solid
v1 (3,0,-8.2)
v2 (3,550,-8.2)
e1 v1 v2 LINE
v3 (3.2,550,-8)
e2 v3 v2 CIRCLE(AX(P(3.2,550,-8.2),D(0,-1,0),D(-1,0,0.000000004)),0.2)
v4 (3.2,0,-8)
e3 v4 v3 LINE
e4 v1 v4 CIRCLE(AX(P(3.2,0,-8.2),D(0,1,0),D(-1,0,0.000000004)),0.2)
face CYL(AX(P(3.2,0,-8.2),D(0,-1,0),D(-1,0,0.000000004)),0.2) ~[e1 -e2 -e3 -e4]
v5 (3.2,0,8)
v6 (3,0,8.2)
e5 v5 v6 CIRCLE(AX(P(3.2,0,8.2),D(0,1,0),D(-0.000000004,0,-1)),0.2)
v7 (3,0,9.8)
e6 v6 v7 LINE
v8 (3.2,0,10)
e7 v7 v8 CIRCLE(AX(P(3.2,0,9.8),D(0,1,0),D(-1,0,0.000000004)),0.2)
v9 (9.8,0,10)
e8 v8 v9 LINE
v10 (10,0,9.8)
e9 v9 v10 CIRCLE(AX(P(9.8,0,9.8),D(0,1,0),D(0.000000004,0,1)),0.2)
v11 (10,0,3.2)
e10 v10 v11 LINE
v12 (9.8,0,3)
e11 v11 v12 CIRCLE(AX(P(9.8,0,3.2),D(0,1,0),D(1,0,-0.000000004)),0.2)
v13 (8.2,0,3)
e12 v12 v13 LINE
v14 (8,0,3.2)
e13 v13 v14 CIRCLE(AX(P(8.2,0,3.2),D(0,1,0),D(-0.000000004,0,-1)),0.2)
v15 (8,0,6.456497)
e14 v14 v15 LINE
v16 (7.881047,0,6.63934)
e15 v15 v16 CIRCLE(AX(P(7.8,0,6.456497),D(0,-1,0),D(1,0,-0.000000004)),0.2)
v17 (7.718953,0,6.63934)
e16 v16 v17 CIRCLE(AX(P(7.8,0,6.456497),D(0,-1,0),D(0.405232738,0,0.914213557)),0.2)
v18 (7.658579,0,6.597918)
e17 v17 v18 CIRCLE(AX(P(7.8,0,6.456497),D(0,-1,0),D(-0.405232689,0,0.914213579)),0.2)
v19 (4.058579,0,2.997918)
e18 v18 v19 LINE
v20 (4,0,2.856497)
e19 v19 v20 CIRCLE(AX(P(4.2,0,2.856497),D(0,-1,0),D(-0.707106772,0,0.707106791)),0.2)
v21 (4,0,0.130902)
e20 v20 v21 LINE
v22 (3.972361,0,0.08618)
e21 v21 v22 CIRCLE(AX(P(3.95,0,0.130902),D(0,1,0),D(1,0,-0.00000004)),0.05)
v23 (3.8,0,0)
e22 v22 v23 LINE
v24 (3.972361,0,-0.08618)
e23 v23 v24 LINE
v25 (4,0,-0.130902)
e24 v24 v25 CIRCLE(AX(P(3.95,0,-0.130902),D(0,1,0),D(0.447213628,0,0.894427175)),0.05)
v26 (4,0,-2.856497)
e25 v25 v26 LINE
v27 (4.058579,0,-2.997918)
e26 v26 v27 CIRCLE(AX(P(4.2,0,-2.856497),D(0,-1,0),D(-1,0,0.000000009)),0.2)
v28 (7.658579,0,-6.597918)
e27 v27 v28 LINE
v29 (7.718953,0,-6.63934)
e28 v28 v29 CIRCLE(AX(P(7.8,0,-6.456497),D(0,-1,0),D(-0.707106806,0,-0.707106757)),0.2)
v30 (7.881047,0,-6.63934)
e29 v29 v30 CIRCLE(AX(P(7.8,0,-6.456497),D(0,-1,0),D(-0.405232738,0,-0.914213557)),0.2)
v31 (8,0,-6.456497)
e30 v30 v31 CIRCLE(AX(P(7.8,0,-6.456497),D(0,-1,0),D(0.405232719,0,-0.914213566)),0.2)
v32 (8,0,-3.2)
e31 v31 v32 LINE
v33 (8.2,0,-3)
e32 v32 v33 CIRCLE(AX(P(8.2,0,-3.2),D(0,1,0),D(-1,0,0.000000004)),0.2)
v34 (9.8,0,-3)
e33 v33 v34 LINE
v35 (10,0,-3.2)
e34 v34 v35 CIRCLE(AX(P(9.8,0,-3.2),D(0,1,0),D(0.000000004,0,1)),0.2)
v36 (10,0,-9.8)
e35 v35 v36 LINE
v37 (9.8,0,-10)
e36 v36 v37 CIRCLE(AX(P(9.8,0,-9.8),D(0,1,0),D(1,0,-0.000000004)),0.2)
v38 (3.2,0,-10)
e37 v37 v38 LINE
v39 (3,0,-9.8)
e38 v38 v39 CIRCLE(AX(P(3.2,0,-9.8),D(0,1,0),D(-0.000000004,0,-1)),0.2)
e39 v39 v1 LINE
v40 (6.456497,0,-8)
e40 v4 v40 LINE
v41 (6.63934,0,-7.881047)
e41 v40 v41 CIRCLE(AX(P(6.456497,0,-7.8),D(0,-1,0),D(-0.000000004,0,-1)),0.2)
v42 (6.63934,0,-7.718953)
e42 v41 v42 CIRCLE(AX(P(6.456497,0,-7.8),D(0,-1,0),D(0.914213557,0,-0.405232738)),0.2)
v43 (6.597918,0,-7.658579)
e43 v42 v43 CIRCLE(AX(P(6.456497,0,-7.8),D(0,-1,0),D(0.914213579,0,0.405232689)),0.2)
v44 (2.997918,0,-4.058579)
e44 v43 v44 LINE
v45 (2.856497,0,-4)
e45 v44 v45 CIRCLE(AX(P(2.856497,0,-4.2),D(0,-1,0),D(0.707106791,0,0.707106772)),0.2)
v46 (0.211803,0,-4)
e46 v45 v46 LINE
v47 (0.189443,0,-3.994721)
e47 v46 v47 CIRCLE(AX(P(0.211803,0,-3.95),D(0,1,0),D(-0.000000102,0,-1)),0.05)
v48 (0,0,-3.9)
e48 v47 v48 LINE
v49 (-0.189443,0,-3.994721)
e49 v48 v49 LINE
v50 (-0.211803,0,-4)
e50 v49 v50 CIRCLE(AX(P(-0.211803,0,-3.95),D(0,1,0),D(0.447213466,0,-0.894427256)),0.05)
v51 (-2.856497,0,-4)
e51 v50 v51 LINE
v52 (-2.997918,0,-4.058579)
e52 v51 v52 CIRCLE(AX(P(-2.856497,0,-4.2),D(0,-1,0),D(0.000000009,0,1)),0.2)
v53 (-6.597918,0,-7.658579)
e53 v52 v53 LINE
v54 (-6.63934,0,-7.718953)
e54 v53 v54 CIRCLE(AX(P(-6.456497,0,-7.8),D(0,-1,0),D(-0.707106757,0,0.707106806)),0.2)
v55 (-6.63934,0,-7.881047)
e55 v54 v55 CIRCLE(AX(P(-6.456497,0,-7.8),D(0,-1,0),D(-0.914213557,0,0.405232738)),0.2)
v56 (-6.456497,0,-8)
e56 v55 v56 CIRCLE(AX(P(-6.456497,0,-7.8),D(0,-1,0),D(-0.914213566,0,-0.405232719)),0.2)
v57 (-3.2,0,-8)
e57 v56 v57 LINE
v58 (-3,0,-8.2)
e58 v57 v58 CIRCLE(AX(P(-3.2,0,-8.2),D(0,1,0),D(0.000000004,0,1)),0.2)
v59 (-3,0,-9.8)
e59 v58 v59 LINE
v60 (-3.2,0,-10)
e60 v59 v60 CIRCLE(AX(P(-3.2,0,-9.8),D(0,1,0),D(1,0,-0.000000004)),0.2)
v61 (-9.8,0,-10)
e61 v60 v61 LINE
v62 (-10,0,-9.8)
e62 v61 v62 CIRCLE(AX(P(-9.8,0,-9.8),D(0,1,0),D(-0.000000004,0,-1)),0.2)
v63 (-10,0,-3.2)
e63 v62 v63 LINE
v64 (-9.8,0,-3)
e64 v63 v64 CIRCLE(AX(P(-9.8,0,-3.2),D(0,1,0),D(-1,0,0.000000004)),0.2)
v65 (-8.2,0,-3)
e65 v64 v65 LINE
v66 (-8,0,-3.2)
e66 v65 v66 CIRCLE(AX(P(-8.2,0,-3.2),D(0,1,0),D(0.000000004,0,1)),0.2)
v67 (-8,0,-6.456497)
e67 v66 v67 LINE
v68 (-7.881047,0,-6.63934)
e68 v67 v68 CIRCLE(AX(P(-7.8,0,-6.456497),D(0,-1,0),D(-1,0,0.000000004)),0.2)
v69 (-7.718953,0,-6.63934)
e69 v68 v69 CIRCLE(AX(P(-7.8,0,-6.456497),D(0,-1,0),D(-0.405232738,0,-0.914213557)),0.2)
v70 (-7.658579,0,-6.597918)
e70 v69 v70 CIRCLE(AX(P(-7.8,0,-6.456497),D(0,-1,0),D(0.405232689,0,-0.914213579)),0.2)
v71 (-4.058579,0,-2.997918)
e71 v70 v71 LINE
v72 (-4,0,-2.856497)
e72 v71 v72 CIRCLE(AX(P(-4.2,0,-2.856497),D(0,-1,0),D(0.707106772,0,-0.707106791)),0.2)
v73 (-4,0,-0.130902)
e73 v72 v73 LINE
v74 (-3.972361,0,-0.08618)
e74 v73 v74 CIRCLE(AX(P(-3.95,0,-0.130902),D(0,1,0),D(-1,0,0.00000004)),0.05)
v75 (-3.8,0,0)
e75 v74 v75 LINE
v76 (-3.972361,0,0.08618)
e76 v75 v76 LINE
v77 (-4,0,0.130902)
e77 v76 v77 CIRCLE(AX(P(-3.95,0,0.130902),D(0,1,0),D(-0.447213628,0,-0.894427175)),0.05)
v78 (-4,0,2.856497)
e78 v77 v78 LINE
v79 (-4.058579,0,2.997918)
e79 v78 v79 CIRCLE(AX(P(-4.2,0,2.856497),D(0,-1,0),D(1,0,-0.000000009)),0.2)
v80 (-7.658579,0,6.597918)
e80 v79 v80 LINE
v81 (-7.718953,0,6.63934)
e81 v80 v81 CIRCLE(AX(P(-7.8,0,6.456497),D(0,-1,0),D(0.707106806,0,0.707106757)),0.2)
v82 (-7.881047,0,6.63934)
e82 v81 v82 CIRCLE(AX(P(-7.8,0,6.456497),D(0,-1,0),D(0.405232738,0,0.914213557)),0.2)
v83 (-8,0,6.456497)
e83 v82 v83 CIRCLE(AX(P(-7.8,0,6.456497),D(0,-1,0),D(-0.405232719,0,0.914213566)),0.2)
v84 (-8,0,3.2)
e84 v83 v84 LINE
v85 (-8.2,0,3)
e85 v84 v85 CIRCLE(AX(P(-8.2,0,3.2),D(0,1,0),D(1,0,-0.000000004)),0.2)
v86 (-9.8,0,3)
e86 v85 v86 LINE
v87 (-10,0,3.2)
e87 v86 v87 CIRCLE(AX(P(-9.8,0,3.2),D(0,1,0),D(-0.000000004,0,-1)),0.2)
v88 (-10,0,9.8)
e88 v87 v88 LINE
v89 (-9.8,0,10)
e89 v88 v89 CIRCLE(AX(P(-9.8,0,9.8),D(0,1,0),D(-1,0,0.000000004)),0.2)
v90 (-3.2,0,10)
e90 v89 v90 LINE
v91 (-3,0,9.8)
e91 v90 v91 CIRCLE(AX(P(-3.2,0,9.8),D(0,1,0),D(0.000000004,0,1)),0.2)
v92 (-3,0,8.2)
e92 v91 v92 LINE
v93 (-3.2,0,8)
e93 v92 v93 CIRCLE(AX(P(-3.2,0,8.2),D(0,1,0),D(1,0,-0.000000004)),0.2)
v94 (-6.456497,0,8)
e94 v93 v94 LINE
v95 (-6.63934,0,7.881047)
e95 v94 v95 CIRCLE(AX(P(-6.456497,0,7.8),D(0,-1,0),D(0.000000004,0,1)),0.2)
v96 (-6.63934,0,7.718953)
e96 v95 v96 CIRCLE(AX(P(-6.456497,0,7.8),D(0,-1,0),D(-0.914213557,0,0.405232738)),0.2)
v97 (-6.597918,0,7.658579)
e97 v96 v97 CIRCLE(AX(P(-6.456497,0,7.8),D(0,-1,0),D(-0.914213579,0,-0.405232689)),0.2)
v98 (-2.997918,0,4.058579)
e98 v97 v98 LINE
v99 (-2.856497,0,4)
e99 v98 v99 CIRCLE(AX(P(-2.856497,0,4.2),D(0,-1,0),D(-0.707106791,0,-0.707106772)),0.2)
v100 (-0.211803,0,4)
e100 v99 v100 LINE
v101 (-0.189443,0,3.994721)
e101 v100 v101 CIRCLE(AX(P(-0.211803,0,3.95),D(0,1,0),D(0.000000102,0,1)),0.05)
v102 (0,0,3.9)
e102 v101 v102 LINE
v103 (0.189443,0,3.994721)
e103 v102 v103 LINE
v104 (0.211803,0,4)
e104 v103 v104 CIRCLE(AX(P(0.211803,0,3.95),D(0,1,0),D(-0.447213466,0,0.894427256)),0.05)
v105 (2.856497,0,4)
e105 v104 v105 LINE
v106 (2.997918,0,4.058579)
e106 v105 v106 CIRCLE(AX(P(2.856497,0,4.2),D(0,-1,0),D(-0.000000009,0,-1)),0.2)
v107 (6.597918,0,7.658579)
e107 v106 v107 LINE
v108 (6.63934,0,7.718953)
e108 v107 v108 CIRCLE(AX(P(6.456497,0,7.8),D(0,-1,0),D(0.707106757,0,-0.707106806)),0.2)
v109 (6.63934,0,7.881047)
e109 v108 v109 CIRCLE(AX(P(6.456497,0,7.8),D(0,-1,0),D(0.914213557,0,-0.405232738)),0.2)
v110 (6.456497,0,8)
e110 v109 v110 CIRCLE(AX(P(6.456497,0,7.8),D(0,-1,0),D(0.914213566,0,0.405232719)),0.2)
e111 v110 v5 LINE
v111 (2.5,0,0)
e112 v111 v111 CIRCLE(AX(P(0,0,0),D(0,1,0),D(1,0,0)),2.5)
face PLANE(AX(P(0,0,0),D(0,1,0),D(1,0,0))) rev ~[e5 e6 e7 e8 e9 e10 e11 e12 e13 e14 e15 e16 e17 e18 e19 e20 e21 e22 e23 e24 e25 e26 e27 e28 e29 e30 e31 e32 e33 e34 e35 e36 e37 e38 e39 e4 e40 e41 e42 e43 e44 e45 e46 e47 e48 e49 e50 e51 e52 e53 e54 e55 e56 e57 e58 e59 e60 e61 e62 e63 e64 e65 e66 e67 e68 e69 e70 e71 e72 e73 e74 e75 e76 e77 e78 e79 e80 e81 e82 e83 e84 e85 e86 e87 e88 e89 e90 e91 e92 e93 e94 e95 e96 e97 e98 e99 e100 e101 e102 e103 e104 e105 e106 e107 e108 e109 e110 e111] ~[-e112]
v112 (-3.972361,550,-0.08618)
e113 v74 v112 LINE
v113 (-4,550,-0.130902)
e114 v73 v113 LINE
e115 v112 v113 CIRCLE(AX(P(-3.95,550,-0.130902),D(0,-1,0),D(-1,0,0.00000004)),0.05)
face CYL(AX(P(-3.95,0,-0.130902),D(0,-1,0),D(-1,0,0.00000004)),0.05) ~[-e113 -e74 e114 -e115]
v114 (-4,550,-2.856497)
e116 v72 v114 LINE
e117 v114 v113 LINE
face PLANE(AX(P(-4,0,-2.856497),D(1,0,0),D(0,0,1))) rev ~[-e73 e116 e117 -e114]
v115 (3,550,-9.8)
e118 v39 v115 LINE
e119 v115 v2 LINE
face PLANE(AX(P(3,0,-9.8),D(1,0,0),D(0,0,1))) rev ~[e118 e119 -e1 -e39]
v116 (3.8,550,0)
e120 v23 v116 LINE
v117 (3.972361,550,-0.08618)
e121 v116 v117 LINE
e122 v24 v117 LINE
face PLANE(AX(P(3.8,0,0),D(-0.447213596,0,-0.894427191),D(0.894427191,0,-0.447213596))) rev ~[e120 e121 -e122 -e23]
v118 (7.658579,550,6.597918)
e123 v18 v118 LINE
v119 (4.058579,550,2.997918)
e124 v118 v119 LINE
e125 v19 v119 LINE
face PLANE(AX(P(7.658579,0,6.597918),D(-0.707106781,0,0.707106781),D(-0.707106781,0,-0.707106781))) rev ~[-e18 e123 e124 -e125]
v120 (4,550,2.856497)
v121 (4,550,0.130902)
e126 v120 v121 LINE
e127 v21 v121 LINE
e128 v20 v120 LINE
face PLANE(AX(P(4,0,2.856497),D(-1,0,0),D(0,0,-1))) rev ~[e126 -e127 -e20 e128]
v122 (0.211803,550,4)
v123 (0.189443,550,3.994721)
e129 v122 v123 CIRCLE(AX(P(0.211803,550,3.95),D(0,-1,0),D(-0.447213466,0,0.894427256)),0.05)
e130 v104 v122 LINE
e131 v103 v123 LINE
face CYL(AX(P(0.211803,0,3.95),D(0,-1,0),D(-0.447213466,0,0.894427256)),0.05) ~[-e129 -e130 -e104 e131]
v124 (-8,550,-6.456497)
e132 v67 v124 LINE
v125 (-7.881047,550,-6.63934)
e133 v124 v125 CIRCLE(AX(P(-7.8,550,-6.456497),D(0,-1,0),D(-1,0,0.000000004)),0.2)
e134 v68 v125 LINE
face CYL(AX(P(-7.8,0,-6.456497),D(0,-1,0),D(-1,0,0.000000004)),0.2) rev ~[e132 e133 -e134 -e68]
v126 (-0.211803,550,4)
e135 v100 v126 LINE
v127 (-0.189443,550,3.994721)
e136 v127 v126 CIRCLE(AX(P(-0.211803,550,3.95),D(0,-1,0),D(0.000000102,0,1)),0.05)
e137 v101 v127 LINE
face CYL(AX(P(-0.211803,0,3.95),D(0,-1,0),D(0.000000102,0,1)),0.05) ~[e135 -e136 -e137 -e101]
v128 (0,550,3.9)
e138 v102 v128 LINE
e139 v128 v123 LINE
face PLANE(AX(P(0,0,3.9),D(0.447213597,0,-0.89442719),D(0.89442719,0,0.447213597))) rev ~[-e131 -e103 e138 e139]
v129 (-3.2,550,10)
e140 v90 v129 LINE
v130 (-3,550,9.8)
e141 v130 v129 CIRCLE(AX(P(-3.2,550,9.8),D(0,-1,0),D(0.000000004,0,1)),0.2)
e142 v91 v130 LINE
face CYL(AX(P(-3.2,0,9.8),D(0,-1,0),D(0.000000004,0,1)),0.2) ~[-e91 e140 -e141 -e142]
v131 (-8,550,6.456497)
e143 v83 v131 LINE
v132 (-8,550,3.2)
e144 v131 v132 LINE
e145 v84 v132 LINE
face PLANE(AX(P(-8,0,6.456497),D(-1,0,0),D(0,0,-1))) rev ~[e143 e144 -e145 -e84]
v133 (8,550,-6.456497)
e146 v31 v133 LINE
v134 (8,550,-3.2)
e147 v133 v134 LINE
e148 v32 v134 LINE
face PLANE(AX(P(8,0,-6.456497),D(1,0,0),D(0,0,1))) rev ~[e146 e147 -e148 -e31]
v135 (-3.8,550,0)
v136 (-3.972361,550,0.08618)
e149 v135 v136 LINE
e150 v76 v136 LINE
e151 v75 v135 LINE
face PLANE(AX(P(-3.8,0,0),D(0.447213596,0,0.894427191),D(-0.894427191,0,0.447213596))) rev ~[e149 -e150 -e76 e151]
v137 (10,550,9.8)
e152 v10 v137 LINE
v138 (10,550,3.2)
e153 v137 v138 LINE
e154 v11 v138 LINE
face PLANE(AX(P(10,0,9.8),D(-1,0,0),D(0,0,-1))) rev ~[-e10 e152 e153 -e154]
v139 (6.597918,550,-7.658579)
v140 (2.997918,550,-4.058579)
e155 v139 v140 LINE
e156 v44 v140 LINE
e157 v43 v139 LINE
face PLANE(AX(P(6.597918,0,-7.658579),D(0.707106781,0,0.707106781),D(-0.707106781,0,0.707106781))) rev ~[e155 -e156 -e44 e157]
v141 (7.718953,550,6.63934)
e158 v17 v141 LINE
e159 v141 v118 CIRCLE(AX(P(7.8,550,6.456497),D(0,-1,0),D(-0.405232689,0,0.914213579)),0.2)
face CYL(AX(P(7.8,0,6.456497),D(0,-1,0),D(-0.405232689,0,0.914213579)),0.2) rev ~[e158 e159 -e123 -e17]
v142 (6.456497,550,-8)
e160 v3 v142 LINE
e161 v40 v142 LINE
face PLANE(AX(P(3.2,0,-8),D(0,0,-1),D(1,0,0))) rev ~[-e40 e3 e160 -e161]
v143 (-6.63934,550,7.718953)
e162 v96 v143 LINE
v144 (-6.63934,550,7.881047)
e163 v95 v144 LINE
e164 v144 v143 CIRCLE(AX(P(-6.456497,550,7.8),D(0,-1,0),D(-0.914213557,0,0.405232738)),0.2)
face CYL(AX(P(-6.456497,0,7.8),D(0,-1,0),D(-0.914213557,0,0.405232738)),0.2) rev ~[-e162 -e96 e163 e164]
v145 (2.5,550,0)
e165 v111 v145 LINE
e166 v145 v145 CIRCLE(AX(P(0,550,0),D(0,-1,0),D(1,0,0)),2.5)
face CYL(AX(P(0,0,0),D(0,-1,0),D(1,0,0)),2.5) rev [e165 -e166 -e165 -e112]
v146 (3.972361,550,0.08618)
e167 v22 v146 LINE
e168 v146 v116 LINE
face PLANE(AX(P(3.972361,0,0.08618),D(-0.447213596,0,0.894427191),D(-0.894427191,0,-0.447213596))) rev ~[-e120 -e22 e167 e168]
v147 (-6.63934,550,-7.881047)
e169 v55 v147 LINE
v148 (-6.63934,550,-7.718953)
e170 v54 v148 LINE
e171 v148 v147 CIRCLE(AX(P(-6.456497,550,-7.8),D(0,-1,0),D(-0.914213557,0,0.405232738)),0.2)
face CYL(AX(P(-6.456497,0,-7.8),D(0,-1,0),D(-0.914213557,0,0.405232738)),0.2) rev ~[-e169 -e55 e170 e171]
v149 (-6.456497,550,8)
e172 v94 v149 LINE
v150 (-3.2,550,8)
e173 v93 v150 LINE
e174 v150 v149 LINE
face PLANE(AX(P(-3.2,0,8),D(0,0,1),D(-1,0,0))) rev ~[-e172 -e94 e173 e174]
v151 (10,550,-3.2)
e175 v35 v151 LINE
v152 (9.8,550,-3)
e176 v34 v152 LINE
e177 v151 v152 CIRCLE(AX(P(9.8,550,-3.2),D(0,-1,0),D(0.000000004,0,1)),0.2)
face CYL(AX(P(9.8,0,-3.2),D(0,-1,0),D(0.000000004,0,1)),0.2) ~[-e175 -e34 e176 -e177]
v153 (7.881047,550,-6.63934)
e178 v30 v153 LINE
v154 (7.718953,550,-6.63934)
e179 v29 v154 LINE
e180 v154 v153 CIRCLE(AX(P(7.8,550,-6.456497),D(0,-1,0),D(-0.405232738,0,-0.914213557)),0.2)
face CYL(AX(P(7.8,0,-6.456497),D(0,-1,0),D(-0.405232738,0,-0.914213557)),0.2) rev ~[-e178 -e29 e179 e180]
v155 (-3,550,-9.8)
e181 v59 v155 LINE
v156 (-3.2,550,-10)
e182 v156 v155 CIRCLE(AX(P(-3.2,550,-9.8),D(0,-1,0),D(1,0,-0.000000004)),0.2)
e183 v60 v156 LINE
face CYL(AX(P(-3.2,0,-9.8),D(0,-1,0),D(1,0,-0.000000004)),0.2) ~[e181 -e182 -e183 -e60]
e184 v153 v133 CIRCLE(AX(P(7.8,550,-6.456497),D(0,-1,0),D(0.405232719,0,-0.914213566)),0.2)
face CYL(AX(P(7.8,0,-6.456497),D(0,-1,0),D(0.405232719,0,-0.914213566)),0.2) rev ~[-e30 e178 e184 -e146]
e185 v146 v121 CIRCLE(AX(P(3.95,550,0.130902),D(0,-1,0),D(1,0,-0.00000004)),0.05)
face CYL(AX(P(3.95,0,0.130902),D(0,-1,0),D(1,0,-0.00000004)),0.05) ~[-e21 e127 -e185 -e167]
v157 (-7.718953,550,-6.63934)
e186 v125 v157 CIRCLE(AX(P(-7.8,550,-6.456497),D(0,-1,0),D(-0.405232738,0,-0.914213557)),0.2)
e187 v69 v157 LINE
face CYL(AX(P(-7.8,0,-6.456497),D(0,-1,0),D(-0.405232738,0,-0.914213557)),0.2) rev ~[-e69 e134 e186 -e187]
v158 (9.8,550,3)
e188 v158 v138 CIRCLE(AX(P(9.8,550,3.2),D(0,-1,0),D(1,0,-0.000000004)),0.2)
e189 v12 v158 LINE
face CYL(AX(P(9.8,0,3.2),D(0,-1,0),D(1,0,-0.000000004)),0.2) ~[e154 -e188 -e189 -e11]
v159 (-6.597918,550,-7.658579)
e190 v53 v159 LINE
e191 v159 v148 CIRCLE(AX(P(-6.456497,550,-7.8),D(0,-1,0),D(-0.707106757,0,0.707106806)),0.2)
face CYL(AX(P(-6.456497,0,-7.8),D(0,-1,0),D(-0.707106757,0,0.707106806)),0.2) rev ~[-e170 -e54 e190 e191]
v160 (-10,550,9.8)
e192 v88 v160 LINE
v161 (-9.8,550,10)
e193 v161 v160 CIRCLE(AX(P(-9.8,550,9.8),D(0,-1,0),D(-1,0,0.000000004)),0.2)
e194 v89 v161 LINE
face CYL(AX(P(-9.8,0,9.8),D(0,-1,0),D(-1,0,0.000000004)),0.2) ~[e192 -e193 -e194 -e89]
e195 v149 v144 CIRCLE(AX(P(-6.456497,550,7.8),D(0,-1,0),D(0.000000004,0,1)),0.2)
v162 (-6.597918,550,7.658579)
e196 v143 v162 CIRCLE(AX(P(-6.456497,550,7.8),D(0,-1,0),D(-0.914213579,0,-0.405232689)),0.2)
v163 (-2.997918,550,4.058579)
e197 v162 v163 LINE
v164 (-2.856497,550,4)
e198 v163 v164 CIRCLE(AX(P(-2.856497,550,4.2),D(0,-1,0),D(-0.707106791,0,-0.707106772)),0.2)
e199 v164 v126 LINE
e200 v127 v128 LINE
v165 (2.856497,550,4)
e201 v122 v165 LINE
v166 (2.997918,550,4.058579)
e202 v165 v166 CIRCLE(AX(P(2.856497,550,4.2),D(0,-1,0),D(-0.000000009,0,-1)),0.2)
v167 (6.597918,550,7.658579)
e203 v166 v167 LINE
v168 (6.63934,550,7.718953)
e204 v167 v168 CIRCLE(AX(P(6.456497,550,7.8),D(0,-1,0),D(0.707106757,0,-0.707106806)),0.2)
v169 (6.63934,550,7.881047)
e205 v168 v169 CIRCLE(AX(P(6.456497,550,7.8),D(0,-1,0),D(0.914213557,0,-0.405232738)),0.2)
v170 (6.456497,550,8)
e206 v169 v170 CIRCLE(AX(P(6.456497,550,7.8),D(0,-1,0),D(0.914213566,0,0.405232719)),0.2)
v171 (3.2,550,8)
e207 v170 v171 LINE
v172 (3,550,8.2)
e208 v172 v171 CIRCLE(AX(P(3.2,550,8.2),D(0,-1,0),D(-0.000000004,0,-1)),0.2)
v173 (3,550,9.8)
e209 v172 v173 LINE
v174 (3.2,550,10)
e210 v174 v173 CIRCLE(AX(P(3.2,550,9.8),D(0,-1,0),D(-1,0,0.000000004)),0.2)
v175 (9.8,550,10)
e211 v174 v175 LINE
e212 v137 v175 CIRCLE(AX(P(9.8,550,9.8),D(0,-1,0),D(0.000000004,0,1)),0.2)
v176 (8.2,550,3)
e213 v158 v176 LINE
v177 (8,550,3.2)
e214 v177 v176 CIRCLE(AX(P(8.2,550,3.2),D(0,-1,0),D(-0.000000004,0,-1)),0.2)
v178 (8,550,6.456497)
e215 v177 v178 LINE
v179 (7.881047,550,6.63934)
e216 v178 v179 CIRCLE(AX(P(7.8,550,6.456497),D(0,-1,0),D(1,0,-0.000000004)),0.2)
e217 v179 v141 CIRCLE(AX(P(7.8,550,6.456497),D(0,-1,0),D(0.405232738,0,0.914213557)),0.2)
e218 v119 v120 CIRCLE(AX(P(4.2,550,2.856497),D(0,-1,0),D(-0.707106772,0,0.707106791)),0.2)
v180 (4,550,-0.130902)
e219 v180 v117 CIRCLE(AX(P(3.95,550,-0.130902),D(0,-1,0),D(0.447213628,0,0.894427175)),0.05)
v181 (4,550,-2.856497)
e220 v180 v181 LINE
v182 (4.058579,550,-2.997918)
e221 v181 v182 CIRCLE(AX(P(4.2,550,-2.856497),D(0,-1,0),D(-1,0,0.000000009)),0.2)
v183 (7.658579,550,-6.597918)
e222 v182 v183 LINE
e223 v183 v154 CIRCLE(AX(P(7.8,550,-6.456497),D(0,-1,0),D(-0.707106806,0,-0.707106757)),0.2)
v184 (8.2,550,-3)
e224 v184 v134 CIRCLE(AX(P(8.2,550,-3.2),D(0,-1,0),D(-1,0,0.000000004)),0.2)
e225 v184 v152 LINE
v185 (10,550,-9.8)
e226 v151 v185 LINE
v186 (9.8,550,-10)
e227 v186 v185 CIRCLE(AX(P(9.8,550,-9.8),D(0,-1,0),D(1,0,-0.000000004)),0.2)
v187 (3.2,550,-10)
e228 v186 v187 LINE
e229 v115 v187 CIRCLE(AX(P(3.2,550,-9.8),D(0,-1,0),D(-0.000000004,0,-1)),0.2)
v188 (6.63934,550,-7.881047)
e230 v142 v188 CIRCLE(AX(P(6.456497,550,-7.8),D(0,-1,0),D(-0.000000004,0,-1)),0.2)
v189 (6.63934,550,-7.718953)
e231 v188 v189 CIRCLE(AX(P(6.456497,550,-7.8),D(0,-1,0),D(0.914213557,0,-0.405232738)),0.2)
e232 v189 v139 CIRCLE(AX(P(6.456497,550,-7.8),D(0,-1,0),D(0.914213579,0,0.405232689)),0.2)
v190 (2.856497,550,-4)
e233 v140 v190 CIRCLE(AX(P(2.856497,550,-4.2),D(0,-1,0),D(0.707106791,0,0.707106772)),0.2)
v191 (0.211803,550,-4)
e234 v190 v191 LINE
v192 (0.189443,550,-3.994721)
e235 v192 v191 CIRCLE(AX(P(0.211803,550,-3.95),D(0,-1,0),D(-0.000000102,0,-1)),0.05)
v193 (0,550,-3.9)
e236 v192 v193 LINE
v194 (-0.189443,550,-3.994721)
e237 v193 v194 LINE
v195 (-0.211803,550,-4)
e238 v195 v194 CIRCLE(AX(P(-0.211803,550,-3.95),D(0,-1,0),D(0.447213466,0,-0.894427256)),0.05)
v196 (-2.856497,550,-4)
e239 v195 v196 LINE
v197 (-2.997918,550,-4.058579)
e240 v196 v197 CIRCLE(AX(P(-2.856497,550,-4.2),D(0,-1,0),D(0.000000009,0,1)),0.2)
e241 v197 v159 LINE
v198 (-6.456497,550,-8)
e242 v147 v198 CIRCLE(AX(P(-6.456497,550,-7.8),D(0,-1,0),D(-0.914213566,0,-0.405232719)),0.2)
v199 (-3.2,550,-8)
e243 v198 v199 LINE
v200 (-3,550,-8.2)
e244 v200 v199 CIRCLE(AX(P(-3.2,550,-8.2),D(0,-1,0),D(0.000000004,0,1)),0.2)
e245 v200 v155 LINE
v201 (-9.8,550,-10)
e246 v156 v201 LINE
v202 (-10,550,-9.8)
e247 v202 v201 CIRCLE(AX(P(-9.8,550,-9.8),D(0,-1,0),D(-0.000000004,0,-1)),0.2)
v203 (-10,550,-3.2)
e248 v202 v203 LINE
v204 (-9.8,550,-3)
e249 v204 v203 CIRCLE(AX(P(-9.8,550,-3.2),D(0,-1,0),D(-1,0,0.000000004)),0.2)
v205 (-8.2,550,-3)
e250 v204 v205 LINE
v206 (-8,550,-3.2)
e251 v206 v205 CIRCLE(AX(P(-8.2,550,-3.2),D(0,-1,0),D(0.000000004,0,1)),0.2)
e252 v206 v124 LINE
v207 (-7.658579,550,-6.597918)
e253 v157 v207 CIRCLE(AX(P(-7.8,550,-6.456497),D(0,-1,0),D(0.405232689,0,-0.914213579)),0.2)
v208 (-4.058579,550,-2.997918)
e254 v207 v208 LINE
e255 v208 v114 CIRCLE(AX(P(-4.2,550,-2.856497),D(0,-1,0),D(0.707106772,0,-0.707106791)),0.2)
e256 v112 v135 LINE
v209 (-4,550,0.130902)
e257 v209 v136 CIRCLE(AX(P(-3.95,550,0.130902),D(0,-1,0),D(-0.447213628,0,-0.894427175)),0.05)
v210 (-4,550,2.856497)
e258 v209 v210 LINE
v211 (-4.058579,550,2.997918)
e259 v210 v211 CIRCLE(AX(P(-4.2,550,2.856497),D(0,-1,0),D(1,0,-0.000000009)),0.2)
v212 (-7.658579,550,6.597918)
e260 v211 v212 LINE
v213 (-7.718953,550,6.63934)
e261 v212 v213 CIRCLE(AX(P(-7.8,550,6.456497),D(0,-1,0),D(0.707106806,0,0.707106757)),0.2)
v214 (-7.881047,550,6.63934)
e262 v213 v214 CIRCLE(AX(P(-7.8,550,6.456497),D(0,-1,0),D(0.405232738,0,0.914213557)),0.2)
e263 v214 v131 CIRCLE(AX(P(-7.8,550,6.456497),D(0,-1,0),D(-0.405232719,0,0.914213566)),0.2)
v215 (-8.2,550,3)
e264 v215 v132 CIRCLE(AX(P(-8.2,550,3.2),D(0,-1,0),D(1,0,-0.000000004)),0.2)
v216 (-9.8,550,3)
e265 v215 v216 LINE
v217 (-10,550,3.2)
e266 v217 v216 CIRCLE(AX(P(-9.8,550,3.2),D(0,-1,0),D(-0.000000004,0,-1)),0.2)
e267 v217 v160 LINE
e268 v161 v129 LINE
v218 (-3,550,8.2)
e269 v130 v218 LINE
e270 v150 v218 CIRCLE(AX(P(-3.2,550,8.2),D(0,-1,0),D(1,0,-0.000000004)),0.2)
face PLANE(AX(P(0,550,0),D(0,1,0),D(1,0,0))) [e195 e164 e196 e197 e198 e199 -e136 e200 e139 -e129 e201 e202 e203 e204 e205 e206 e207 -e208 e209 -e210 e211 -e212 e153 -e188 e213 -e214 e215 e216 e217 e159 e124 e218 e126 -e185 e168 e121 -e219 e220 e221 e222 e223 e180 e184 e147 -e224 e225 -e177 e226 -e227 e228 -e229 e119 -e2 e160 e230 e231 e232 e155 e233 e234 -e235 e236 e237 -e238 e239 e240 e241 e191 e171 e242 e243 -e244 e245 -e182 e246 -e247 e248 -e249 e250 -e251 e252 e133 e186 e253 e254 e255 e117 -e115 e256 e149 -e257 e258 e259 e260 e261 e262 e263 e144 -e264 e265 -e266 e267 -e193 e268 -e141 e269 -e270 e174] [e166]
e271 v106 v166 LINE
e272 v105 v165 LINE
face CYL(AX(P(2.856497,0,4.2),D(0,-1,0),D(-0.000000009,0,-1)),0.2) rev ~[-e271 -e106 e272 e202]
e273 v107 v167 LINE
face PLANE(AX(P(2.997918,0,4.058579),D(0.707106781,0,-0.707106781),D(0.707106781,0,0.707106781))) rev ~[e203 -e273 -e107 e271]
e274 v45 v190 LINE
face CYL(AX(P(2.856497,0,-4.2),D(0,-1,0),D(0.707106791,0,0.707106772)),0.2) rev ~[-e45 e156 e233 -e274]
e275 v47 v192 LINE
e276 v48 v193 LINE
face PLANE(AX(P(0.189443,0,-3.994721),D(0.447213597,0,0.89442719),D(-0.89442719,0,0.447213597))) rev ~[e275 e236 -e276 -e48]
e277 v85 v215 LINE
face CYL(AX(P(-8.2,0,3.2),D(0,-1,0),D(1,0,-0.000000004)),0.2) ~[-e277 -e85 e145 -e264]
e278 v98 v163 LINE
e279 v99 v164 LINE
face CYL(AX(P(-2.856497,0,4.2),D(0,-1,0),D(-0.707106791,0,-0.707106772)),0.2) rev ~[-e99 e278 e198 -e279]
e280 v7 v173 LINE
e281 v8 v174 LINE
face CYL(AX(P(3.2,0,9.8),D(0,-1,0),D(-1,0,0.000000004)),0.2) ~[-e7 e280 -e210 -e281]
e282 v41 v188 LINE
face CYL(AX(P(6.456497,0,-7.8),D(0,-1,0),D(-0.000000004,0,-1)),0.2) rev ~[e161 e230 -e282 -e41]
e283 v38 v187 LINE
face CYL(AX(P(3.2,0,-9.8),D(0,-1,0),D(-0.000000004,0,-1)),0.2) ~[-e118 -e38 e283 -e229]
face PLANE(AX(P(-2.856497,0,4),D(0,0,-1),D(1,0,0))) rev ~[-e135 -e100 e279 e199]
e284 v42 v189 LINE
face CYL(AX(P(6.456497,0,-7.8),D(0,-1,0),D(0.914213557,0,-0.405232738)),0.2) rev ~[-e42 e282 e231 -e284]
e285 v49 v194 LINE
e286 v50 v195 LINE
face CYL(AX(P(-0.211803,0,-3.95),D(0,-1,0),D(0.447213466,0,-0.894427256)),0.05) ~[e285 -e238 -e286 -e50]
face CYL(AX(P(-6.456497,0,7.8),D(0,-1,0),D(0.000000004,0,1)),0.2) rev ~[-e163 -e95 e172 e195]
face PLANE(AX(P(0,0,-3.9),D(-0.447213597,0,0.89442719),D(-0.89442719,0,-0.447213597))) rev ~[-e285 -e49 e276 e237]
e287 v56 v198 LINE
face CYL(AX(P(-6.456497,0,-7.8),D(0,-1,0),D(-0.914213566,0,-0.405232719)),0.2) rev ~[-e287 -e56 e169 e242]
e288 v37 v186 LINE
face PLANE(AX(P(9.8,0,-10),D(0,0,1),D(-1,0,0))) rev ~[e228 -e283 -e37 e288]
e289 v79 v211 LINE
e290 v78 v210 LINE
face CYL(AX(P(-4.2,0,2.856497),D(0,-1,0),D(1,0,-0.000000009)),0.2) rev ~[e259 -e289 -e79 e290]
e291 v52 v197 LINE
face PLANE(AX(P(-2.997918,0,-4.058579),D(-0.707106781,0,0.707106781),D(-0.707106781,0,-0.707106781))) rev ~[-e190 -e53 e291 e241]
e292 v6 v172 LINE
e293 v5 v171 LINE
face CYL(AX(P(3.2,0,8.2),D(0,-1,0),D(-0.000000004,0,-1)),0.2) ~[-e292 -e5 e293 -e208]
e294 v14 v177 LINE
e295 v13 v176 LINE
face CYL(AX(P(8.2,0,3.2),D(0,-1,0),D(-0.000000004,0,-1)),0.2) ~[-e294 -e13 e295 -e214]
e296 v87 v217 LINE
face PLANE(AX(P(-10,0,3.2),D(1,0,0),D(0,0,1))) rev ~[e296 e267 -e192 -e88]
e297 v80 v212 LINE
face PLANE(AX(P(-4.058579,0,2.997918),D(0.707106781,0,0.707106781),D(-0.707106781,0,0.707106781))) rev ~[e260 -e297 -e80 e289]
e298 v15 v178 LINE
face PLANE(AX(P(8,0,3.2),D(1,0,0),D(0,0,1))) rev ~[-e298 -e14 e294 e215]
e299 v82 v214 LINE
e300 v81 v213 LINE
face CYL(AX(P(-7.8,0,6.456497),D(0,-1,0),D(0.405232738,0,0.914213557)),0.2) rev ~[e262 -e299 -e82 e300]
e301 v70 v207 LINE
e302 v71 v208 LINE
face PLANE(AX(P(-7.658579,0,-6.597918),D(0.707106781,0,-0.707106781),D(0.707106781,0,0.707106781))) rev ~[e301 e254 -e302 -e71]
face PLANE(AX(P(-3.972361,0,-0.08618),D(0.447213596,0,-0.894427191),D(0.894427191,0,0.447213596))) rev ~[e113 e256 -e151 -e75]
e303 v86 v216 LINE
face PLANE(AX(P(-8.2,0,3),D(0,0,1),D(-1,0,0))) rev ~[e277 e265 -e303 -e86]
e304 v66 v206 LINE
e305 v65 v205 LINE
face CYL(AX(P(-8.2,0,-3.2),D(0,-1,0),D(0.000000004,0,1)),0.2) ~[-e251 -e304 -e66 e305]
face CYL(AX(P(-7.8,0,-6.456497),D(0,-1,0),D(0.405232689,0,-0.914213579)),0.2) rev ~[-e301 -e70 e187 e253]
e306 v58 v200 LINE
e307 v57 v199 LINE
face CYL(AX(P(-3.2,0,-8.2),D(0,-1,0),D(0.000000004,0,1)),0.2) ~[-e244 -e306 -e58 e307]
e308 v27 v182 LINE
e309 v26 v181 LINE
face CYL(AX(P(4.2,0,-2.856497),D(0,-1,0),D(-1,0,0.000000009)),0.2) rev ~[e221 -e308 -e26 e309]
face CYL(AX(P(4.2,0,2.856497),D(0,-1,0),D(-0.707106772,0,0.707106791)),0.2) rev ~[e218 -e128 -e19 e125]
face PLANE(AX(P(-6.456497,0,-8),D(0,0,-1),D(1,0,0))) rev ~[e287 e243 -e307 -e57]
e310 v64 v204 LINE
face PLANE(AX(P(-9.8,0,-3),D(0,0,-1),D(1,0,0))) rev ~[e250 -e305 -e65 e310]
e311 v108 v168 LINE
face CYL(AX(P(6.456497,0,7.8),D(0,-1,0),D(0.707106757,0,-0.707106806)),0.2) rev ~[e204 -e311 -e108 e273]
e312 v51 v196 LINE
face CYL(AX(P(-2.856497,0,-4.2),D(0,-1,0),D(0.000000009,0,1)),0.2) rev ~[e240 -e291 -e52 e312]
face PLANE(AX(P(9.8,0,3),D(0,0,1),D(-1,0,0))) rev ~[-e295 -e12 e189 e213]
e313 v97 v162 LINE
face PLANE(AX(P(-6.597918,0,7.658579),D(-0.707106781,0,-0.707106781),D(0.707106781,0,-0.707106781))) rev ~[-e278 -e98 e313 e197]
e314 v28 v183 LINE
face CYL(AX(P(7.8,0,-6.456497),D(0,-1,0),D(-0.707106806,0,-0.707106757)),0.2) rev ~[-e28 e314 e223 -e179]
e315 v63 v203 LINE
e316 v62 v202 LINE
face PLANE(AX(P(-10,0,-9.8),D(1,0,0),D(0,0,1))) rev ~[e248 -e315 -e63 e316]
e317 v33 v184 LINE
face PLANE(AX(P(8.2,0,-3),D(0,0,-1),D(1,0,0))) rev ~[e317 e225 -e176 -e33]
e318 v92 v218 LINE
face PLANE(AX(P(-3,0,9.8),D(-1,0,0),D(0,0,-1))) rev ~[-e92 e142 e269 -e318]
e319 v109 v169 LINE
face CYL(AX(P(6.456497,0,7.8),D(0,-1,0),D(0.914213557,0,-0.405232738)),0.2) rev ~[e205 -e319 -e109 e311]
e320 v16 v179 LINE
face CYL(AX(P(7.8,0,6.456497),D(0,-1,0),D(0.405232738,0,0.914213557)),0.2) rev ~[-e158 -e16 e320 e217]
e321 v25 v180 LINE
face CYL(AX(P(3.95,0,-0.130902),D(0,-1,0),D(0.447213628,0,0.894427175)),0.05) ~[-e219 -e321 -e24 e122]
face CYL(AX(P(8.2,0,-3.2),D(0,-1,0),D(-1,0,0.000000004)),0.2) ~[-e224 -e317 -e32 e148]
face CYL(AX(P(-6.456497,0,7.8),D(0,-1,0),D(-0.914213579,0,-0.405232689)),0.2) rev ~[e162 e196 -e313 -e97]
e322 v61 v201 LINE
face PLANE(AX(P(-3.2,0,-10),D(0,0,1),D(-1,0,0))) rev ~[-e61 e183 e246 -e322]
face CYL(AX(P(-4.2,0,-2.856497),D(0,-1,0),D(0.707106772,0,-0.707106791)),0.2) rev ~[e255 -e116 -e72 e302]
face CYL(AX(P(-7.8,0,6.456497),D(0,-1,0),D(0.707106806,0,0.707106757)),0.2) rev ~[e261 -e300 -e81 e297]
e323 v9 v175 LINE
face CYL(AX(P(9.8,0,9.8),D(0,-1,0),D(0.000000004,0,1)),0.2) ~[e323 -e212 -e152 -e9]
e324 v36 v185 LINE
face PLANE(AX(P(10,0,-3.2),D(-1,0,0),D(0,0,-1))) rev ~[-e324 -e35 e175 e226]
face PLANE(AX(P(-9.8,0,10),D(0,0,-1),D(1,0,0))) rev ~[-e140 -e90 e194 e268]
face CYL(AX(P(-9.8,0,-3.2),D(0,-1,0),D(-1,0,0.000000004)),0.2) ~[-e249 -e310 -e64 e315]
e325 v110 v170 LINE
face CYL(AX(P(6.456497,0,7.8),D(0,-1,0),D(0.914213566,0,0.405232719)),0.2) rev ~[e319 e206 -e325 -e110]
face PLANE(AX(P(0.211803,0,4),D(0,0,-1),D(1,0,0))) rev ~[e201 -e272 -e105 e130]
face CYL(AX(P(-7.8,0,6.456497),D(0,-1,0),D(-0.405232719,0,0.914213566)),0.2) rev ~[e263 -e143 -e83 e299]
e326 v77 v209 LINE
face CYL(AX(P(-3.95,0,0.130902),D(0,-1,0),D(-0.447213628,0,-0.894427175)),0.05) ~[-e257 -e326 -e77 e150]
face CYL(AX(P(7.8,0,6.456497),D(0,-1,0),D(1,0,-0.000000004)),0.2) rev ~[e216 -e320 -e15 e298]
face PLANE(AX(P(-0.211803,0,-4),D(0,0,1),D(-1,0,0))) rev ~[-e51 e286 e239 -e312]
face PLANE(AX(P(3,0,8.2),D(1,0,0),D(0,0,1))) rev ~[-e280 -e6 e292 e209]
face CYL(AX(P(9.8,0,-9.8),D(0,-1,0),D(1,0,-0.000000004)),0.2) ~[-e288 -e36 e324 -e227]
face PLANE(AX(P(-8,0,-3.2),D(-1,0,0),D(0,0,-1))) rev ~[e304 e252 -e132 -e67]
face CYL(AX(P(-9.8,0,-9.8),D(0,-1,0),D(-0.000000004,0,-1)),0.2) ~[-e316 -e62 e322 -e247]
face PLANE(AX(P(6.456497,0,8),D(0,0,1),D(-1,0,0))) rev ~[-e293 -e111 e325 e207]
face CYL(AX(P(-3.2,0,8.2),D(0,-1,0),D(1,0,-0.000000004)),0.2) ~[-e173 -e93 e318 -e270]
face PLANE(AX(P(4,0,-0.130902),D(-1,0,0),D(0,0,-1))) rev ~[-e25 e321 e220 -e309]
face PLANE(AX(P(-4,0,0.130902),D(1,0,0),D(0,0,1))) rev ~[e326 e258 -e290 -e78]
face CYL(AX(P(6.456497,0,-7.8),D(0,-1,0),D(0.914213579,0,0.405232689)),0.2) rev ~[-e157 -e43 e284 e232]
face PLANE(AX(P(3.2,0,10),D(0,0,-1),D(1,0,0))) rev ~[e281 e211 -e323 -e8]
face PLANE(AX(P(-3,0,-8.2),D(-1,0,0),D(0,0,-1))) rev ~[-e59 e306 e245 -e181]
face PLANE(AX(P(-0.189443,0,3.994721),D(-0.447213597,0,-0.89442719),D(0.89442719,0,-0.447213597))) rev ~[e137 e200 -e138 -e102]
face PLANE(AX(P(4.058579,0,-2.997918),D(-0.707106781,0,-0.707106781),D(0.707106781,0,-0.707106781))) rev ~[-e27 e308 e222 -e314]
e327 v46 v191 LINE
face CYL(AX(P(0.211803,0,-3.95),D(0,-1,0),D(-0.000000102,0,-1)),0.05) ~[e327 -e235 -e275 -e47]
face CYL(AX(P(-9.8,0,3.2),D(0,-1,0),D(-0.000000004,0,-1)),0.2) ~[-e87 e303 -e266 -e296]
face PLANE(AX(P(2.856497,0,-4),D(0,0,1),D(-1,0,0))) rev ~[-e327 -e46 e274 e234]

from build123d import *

# Parameters (mm, degrees)
SKETCH1_R           = 2.5
BOSS_EXTRUDE1_DEPTH = 700
SKETCH3_W           = 24.985840616
SKETCH3_H           = 22.156024638
CUT_EXTRUDE2_DEPTH  = 150


with BuildPart() as part:
    # Sketch1 → Boss-Extrude1 (new body)
    with BuildSketch(Plane(origin=(0, 0, 0), x_dir=(1, 0, 0), z_dir=(0, 1, 0))):
        with BuildLine():
            Line((-2.997918472, 4.058578644), (-6.597918472, 7.658578644))
            ThreePointArc((-6.597918472, 7.658578644), (-6.621415508, 7.686854412), (-6.639339828, 7.718953455))
            ThreePointArc((-6.639339828, 7.718953455), (-6.656497116, 7.8), (-6.639339828, 7.881046545))
            ThreePointArc((-6.639339828, 7.881046545), (-6.565562901, 7.967644429), (-6.456497116, 8))
            Line((-6.456497116, 8), (-3.2, 8))
            ThreePointArc((-3.2, 8), (-3.058578644, 8.058578644), (-3, 8.2))
            Line((-3, 8.2), (-3, 9.8))
            ThreePointArc((-3, 9.8), (-3.058578644, 9.941421356), (-3.2, 10))
            Line((-3.2, 10), (-9.8, 10))
            ThreePointArc((-9.8, 10), (-9.941421356, 9.941421356), (-10, 9.8))
            Line((-10, 9.8), (-10, 3.2))
            ThreePointArc((-10, 3.2), (-9.941421356, 3.058578644), (-9.8, 3))
            Line((-9.8, 3), (-8.2, 3))
            ThreePointArc((-8.2, 3), (-8.058578644, 3.058578644), (-8, 3.2))
            Line((-8, 3.2), (-8, 6.456497116))
            ThreePointArc((-8, 6.456497116), (-7.967644429, 6.565562901), (-7.881046545, 6.639339828))
            ThreePointArc((-7.881046545, 6.639339828), (-7.8, 6.656497116), (-7.718953455, 6.639339828))
            ThreePointArc((-7.718953455, 6.639339828), (-7.686854412, 6.621415508), (-7.658578644, 6.597918472))
            Line((-7.658578644, 6.597918472), (-4.058578644, 2.997918472))
            ThreePointArc((-4.058578644, 2.997918472), (-4.015224093, 2.933033802), (-4, 2.856497116))
            Line((-4, 2.856497116), (-4, 0.130901699))
            ThreePointArc((-4, 0.130901699), (-3.99253254, 0.104615144), (-3.97236068, 0.08618034))
            Line((-3.97236068, 0.08618034), (-3.8, 0))
            Line((-3.8, 0), (-3.97236068, -0.08618034))
            ThreePointArc((-3.97236068, -0.08618034), (-3.99253254, -0.104615144), (-4, -0.130901699))
            Line((-4, -0.130901699), (-4, -2.856497116))
            ThreePointArc((-4, -2.856497116), (-4.015224093, -2.933033802), (-4.058578644, -2.997918472))
            Line((-4.058578644, -2.997918472), (-7.658578644, -6.597918472))
            ThreePointArc((-7.658578644, -6.597918472), (-7.686854412, -6.621415508), (-7.718953455, -6.639339828))
            ThreePointArc((-7.718953455, -6.639339828), (-7.8, -6.656497116), (-7.881046545, -6.639339828))
            ThreePointArc((-7.881046545, -6.639339828), (-7.967644429, -6.565562901), (-8, -6.456497116))
            Line((-8, -6.456497116), (-8, -3.2))
            ThreePointArc((-8, -3.2), (-8.058578644, -3.058578644), (-8.2, -3))
            Line((-8.2, -3), (-9.8, -3))
            ThreePointArc((-9.8, -3), (-9.941421356, -3.058578644), (-10, -3.2))
            Line((-10, -3.2), (-10, -9.8))
            ThreePointArc((-10, -9.8), (-9.941421356, -9.941421356), (-9.8, -10))
            Line((-9.8, -10), (-3.2, -10))
            ThreePointArc((-3.2, -10), (-3.058578644, -9.941421356), (-3, -9.8))
            Line((-3, -9.8), (-3, -8.2))
            ThreePointArc((-3, -8.2), (-3.058578644, -8.058578644), (-3.2, -8))
            Line((-3.2, -8), (-6.456497116, -8))
            ThreePointArc((-6.456497116, -8), (-6.565562901, -7.967644429), (-6.639339828, -7.881046545))
            ThreePointArc((-6.639339828, -7.881046545), (-6.656497116, -7.8), (-6.639339828, -7.718953455))
            ThreePointArc((-6.639339828, -7.718953455), (-6.621415508, -7.686854412), (-6.597918472, -7.658578644))
            Line((-6.597918472, -7.658578644), (-2.997918472, -4.058578644))
            ThreePointArc((-2.997918472, -4.058578644), (-2.933033802, -4.015224093), (-2.856497116, -4))
            Line((-2.856497116, -4), (-0.211803399, -4))
            ThreePointArc((-0.211803399, -4), (-0.200315753, -3.998662449), (-0.189442719, -3.99472136))
            Line((-0.189442719, -3.99472136), (0, -3.9))
            Line((0, -3.9), (0.189442719, -3.99472136))
            ThreePointArc((0.189442719, -3.99472136), (0.200315753, -3.998662449), (0.211803399, -4))
            Line((0.211803399, -4), (2.856497116, -4))
            ThreePointArc((2.856497116, -4), (2.933033802, -4.015224093), (2.997918472, -4.058578644))
            Line((2.997918472, -4.058578644), (6.597918472, -7.658578644))
            ThreePointArc((6.597918472, -7.658578644), (6.621415508, -7.686854412), (6.639339828, -7.718953455))
            ThreePointArc((6.639339828, -7.718953455), (6.656497116, -7.8), (6.639339828, -7.881046545))
            ThreePointArc((6.639339828, -7.881046545), (6.565562901, -7.967644429), (6.456497116, -8))
            Line((6.456497116, -8), (3.2, -8))
            ThreePointArc((3.2, -8), (3.058578644, -8.058578644), (3, -8.2))
            Line((3, -8.2), (3, -9.8))
            ThreePointArc((3, -9.8), (3.058578644, -9.941421356), (3.2, -10))
            Line((3.2, -10), (9.8, -10))
            ThreePointArc((9.8, -10), (9.941421356, -9.941421356), (10, -9.8))
            Line((10, -9.8), (10, -3.2))
            ThreePointArc((10, -3.2), (9.941421356, -3.058578644), (9.8, -3))
            Line((9.8, -3), (8.2, -3))
            ThreePointArc((8.2, -3), (8.058578644, -3.058578644), (8, -3.2))
            Line((8, -3.2), (8, -6.456497116))
            ThreePointArc((8, -6.456497116), (7.967644429, -6.565562901), (7.881046545, -6.639339828))
            ThreePointArc((7.881046545, -6.639339828), (7.8, -6.656497116), (7.718953455, -6.639339828))
            ThreePointArc((7.718953455, -6.639339828), (7.686854412, -6.621415508), (7.658578644, -6.597918472))
            Line((7.658578644, -6.597918472), (4.058578644, -2.997918472))
            ThreePointArc((4.058578644, -2.997918472), (4.015224093, -2.933033802), (4, -2.856497116))
            Line((4, -2.856497116), (4, -0.130901699))
            ThreePointArc((4, -0.130901699), (3.99253254, -0.104615144), (3.97236068, -0.08618034))
            Line((3.97236068, -0.08618034), (3.8, 0))
            Line((3.8, 0), (3.97236068, 0.08618034))
            ThreePointArc((3.97236068, 0.08618034), (3.99253254, 0.104615144), (4, 0.130901699))
            Line((4, 0.130901699), (4, 2.856497116))
            ThreePointArc((4, 2.856497116), (4.015224093, 2.933033802), (4.058578644, 2.997918472))
            Line((4.058578644, 2.997918472), (7.658578644, 6.597918472))
            ThreePointArc((7.658578644, 6.597918472), (7.686854412, 6.621415508), (7.718953455, 6.639339828))
            ThreePointArc((7.718953455, 6.639339828), (7.8, 6.656497116), (7.881046545, 6.639339828))
            ThreePointArc((7.881046545, 6.639339828), (7.967644429, 6.565562901), (8, 6.456497116))
            Line((8, 6.456497116), (8, 3.2))
            ThreePointArc((8, 3.2), (8.058578644, 3.058578644), (8.2, 3))
            Line((8.2, 3), (9.8, 3))
            ThreePointArc((9.8, 3), (9.941421356, 3.058578644), (10, 3.2))
            Line((10, 3.2), (10, 9.8))
            ThreePointArc((10, 9.8), (9.941421356, 9.941421356), (9.8, 10))
            Line((9.8, 10), (3.2, 10))
            ThreePointArc((3.2, 10), (3.058578644, 9.941421356), (3, 9.8))
            Line((3, 9.8), (3, 8.2))
            ThreePointArc((3, 8.2), (3.058578644, 8.058578644), (3.2, 8))
            Line((3.2, 8), (6.456497116, 8))
            ThreePointArc((6.456497116, 8), (6.565562901, 7.967644429), (6.639339828, 7.881046545))
            ThreePointArc((6.639339828, 7.881046545), (6.656497116, 7.8), (6.639339828, 7.718953455))
            ThreePointArc((6.639339828, 7.718953455), (6.621415508, 7.686854412), (6.597918472, 7.658578644))
            Line((6.597918472, 7.658578644), (2.997918472, 4.058578644))
            ThreePointArc((2.997918472, 4.058578644), (2.933033802, 4.015224093), (2.856497116, 4))
            Line((2.856497116, 4), (0.211803399, 4))
            ThreePointArc((0.211803399, 4), (0.200315753, 3.998662449), (0.189442719, 3.99472136))
            Line((0.189442719, 3.99472136), (0, 3.9))
            Line((0, 3.9), (-0.189442719, 3.99472136))
            ThreePointArc((-0.189442719, 3.99472136), (-0.200315753, 3.998662449), (-0.211803399, 4))
            Line((-0.211803399, 4), (-2.856497116, 4))
            ThreePointArc((-2.856497116, 4), (-2.933033802, 4.015224093), (-2.997918472, 4.058578644))
        make_face()
        Circle(SKETCH1_R, mode=Mode.SUBTRACT)
    extrude(amount=BOSS_EXTRUDE1_DEPTH)

    # Sketch3 → Cut-Extrude2 (cut)
    with BuildSketch(Plane(origin=(0, 700, 0), x_dir=(1, 0, 0), z_dir=(0, 1, 0))):
        Rectangle(SKETCH3_W, SKETCH3_H)
    extrude(amount=-CUT_EXTRUDE2_DEPTH, mode=Mode.SUBTRACT)


solid = part.part
